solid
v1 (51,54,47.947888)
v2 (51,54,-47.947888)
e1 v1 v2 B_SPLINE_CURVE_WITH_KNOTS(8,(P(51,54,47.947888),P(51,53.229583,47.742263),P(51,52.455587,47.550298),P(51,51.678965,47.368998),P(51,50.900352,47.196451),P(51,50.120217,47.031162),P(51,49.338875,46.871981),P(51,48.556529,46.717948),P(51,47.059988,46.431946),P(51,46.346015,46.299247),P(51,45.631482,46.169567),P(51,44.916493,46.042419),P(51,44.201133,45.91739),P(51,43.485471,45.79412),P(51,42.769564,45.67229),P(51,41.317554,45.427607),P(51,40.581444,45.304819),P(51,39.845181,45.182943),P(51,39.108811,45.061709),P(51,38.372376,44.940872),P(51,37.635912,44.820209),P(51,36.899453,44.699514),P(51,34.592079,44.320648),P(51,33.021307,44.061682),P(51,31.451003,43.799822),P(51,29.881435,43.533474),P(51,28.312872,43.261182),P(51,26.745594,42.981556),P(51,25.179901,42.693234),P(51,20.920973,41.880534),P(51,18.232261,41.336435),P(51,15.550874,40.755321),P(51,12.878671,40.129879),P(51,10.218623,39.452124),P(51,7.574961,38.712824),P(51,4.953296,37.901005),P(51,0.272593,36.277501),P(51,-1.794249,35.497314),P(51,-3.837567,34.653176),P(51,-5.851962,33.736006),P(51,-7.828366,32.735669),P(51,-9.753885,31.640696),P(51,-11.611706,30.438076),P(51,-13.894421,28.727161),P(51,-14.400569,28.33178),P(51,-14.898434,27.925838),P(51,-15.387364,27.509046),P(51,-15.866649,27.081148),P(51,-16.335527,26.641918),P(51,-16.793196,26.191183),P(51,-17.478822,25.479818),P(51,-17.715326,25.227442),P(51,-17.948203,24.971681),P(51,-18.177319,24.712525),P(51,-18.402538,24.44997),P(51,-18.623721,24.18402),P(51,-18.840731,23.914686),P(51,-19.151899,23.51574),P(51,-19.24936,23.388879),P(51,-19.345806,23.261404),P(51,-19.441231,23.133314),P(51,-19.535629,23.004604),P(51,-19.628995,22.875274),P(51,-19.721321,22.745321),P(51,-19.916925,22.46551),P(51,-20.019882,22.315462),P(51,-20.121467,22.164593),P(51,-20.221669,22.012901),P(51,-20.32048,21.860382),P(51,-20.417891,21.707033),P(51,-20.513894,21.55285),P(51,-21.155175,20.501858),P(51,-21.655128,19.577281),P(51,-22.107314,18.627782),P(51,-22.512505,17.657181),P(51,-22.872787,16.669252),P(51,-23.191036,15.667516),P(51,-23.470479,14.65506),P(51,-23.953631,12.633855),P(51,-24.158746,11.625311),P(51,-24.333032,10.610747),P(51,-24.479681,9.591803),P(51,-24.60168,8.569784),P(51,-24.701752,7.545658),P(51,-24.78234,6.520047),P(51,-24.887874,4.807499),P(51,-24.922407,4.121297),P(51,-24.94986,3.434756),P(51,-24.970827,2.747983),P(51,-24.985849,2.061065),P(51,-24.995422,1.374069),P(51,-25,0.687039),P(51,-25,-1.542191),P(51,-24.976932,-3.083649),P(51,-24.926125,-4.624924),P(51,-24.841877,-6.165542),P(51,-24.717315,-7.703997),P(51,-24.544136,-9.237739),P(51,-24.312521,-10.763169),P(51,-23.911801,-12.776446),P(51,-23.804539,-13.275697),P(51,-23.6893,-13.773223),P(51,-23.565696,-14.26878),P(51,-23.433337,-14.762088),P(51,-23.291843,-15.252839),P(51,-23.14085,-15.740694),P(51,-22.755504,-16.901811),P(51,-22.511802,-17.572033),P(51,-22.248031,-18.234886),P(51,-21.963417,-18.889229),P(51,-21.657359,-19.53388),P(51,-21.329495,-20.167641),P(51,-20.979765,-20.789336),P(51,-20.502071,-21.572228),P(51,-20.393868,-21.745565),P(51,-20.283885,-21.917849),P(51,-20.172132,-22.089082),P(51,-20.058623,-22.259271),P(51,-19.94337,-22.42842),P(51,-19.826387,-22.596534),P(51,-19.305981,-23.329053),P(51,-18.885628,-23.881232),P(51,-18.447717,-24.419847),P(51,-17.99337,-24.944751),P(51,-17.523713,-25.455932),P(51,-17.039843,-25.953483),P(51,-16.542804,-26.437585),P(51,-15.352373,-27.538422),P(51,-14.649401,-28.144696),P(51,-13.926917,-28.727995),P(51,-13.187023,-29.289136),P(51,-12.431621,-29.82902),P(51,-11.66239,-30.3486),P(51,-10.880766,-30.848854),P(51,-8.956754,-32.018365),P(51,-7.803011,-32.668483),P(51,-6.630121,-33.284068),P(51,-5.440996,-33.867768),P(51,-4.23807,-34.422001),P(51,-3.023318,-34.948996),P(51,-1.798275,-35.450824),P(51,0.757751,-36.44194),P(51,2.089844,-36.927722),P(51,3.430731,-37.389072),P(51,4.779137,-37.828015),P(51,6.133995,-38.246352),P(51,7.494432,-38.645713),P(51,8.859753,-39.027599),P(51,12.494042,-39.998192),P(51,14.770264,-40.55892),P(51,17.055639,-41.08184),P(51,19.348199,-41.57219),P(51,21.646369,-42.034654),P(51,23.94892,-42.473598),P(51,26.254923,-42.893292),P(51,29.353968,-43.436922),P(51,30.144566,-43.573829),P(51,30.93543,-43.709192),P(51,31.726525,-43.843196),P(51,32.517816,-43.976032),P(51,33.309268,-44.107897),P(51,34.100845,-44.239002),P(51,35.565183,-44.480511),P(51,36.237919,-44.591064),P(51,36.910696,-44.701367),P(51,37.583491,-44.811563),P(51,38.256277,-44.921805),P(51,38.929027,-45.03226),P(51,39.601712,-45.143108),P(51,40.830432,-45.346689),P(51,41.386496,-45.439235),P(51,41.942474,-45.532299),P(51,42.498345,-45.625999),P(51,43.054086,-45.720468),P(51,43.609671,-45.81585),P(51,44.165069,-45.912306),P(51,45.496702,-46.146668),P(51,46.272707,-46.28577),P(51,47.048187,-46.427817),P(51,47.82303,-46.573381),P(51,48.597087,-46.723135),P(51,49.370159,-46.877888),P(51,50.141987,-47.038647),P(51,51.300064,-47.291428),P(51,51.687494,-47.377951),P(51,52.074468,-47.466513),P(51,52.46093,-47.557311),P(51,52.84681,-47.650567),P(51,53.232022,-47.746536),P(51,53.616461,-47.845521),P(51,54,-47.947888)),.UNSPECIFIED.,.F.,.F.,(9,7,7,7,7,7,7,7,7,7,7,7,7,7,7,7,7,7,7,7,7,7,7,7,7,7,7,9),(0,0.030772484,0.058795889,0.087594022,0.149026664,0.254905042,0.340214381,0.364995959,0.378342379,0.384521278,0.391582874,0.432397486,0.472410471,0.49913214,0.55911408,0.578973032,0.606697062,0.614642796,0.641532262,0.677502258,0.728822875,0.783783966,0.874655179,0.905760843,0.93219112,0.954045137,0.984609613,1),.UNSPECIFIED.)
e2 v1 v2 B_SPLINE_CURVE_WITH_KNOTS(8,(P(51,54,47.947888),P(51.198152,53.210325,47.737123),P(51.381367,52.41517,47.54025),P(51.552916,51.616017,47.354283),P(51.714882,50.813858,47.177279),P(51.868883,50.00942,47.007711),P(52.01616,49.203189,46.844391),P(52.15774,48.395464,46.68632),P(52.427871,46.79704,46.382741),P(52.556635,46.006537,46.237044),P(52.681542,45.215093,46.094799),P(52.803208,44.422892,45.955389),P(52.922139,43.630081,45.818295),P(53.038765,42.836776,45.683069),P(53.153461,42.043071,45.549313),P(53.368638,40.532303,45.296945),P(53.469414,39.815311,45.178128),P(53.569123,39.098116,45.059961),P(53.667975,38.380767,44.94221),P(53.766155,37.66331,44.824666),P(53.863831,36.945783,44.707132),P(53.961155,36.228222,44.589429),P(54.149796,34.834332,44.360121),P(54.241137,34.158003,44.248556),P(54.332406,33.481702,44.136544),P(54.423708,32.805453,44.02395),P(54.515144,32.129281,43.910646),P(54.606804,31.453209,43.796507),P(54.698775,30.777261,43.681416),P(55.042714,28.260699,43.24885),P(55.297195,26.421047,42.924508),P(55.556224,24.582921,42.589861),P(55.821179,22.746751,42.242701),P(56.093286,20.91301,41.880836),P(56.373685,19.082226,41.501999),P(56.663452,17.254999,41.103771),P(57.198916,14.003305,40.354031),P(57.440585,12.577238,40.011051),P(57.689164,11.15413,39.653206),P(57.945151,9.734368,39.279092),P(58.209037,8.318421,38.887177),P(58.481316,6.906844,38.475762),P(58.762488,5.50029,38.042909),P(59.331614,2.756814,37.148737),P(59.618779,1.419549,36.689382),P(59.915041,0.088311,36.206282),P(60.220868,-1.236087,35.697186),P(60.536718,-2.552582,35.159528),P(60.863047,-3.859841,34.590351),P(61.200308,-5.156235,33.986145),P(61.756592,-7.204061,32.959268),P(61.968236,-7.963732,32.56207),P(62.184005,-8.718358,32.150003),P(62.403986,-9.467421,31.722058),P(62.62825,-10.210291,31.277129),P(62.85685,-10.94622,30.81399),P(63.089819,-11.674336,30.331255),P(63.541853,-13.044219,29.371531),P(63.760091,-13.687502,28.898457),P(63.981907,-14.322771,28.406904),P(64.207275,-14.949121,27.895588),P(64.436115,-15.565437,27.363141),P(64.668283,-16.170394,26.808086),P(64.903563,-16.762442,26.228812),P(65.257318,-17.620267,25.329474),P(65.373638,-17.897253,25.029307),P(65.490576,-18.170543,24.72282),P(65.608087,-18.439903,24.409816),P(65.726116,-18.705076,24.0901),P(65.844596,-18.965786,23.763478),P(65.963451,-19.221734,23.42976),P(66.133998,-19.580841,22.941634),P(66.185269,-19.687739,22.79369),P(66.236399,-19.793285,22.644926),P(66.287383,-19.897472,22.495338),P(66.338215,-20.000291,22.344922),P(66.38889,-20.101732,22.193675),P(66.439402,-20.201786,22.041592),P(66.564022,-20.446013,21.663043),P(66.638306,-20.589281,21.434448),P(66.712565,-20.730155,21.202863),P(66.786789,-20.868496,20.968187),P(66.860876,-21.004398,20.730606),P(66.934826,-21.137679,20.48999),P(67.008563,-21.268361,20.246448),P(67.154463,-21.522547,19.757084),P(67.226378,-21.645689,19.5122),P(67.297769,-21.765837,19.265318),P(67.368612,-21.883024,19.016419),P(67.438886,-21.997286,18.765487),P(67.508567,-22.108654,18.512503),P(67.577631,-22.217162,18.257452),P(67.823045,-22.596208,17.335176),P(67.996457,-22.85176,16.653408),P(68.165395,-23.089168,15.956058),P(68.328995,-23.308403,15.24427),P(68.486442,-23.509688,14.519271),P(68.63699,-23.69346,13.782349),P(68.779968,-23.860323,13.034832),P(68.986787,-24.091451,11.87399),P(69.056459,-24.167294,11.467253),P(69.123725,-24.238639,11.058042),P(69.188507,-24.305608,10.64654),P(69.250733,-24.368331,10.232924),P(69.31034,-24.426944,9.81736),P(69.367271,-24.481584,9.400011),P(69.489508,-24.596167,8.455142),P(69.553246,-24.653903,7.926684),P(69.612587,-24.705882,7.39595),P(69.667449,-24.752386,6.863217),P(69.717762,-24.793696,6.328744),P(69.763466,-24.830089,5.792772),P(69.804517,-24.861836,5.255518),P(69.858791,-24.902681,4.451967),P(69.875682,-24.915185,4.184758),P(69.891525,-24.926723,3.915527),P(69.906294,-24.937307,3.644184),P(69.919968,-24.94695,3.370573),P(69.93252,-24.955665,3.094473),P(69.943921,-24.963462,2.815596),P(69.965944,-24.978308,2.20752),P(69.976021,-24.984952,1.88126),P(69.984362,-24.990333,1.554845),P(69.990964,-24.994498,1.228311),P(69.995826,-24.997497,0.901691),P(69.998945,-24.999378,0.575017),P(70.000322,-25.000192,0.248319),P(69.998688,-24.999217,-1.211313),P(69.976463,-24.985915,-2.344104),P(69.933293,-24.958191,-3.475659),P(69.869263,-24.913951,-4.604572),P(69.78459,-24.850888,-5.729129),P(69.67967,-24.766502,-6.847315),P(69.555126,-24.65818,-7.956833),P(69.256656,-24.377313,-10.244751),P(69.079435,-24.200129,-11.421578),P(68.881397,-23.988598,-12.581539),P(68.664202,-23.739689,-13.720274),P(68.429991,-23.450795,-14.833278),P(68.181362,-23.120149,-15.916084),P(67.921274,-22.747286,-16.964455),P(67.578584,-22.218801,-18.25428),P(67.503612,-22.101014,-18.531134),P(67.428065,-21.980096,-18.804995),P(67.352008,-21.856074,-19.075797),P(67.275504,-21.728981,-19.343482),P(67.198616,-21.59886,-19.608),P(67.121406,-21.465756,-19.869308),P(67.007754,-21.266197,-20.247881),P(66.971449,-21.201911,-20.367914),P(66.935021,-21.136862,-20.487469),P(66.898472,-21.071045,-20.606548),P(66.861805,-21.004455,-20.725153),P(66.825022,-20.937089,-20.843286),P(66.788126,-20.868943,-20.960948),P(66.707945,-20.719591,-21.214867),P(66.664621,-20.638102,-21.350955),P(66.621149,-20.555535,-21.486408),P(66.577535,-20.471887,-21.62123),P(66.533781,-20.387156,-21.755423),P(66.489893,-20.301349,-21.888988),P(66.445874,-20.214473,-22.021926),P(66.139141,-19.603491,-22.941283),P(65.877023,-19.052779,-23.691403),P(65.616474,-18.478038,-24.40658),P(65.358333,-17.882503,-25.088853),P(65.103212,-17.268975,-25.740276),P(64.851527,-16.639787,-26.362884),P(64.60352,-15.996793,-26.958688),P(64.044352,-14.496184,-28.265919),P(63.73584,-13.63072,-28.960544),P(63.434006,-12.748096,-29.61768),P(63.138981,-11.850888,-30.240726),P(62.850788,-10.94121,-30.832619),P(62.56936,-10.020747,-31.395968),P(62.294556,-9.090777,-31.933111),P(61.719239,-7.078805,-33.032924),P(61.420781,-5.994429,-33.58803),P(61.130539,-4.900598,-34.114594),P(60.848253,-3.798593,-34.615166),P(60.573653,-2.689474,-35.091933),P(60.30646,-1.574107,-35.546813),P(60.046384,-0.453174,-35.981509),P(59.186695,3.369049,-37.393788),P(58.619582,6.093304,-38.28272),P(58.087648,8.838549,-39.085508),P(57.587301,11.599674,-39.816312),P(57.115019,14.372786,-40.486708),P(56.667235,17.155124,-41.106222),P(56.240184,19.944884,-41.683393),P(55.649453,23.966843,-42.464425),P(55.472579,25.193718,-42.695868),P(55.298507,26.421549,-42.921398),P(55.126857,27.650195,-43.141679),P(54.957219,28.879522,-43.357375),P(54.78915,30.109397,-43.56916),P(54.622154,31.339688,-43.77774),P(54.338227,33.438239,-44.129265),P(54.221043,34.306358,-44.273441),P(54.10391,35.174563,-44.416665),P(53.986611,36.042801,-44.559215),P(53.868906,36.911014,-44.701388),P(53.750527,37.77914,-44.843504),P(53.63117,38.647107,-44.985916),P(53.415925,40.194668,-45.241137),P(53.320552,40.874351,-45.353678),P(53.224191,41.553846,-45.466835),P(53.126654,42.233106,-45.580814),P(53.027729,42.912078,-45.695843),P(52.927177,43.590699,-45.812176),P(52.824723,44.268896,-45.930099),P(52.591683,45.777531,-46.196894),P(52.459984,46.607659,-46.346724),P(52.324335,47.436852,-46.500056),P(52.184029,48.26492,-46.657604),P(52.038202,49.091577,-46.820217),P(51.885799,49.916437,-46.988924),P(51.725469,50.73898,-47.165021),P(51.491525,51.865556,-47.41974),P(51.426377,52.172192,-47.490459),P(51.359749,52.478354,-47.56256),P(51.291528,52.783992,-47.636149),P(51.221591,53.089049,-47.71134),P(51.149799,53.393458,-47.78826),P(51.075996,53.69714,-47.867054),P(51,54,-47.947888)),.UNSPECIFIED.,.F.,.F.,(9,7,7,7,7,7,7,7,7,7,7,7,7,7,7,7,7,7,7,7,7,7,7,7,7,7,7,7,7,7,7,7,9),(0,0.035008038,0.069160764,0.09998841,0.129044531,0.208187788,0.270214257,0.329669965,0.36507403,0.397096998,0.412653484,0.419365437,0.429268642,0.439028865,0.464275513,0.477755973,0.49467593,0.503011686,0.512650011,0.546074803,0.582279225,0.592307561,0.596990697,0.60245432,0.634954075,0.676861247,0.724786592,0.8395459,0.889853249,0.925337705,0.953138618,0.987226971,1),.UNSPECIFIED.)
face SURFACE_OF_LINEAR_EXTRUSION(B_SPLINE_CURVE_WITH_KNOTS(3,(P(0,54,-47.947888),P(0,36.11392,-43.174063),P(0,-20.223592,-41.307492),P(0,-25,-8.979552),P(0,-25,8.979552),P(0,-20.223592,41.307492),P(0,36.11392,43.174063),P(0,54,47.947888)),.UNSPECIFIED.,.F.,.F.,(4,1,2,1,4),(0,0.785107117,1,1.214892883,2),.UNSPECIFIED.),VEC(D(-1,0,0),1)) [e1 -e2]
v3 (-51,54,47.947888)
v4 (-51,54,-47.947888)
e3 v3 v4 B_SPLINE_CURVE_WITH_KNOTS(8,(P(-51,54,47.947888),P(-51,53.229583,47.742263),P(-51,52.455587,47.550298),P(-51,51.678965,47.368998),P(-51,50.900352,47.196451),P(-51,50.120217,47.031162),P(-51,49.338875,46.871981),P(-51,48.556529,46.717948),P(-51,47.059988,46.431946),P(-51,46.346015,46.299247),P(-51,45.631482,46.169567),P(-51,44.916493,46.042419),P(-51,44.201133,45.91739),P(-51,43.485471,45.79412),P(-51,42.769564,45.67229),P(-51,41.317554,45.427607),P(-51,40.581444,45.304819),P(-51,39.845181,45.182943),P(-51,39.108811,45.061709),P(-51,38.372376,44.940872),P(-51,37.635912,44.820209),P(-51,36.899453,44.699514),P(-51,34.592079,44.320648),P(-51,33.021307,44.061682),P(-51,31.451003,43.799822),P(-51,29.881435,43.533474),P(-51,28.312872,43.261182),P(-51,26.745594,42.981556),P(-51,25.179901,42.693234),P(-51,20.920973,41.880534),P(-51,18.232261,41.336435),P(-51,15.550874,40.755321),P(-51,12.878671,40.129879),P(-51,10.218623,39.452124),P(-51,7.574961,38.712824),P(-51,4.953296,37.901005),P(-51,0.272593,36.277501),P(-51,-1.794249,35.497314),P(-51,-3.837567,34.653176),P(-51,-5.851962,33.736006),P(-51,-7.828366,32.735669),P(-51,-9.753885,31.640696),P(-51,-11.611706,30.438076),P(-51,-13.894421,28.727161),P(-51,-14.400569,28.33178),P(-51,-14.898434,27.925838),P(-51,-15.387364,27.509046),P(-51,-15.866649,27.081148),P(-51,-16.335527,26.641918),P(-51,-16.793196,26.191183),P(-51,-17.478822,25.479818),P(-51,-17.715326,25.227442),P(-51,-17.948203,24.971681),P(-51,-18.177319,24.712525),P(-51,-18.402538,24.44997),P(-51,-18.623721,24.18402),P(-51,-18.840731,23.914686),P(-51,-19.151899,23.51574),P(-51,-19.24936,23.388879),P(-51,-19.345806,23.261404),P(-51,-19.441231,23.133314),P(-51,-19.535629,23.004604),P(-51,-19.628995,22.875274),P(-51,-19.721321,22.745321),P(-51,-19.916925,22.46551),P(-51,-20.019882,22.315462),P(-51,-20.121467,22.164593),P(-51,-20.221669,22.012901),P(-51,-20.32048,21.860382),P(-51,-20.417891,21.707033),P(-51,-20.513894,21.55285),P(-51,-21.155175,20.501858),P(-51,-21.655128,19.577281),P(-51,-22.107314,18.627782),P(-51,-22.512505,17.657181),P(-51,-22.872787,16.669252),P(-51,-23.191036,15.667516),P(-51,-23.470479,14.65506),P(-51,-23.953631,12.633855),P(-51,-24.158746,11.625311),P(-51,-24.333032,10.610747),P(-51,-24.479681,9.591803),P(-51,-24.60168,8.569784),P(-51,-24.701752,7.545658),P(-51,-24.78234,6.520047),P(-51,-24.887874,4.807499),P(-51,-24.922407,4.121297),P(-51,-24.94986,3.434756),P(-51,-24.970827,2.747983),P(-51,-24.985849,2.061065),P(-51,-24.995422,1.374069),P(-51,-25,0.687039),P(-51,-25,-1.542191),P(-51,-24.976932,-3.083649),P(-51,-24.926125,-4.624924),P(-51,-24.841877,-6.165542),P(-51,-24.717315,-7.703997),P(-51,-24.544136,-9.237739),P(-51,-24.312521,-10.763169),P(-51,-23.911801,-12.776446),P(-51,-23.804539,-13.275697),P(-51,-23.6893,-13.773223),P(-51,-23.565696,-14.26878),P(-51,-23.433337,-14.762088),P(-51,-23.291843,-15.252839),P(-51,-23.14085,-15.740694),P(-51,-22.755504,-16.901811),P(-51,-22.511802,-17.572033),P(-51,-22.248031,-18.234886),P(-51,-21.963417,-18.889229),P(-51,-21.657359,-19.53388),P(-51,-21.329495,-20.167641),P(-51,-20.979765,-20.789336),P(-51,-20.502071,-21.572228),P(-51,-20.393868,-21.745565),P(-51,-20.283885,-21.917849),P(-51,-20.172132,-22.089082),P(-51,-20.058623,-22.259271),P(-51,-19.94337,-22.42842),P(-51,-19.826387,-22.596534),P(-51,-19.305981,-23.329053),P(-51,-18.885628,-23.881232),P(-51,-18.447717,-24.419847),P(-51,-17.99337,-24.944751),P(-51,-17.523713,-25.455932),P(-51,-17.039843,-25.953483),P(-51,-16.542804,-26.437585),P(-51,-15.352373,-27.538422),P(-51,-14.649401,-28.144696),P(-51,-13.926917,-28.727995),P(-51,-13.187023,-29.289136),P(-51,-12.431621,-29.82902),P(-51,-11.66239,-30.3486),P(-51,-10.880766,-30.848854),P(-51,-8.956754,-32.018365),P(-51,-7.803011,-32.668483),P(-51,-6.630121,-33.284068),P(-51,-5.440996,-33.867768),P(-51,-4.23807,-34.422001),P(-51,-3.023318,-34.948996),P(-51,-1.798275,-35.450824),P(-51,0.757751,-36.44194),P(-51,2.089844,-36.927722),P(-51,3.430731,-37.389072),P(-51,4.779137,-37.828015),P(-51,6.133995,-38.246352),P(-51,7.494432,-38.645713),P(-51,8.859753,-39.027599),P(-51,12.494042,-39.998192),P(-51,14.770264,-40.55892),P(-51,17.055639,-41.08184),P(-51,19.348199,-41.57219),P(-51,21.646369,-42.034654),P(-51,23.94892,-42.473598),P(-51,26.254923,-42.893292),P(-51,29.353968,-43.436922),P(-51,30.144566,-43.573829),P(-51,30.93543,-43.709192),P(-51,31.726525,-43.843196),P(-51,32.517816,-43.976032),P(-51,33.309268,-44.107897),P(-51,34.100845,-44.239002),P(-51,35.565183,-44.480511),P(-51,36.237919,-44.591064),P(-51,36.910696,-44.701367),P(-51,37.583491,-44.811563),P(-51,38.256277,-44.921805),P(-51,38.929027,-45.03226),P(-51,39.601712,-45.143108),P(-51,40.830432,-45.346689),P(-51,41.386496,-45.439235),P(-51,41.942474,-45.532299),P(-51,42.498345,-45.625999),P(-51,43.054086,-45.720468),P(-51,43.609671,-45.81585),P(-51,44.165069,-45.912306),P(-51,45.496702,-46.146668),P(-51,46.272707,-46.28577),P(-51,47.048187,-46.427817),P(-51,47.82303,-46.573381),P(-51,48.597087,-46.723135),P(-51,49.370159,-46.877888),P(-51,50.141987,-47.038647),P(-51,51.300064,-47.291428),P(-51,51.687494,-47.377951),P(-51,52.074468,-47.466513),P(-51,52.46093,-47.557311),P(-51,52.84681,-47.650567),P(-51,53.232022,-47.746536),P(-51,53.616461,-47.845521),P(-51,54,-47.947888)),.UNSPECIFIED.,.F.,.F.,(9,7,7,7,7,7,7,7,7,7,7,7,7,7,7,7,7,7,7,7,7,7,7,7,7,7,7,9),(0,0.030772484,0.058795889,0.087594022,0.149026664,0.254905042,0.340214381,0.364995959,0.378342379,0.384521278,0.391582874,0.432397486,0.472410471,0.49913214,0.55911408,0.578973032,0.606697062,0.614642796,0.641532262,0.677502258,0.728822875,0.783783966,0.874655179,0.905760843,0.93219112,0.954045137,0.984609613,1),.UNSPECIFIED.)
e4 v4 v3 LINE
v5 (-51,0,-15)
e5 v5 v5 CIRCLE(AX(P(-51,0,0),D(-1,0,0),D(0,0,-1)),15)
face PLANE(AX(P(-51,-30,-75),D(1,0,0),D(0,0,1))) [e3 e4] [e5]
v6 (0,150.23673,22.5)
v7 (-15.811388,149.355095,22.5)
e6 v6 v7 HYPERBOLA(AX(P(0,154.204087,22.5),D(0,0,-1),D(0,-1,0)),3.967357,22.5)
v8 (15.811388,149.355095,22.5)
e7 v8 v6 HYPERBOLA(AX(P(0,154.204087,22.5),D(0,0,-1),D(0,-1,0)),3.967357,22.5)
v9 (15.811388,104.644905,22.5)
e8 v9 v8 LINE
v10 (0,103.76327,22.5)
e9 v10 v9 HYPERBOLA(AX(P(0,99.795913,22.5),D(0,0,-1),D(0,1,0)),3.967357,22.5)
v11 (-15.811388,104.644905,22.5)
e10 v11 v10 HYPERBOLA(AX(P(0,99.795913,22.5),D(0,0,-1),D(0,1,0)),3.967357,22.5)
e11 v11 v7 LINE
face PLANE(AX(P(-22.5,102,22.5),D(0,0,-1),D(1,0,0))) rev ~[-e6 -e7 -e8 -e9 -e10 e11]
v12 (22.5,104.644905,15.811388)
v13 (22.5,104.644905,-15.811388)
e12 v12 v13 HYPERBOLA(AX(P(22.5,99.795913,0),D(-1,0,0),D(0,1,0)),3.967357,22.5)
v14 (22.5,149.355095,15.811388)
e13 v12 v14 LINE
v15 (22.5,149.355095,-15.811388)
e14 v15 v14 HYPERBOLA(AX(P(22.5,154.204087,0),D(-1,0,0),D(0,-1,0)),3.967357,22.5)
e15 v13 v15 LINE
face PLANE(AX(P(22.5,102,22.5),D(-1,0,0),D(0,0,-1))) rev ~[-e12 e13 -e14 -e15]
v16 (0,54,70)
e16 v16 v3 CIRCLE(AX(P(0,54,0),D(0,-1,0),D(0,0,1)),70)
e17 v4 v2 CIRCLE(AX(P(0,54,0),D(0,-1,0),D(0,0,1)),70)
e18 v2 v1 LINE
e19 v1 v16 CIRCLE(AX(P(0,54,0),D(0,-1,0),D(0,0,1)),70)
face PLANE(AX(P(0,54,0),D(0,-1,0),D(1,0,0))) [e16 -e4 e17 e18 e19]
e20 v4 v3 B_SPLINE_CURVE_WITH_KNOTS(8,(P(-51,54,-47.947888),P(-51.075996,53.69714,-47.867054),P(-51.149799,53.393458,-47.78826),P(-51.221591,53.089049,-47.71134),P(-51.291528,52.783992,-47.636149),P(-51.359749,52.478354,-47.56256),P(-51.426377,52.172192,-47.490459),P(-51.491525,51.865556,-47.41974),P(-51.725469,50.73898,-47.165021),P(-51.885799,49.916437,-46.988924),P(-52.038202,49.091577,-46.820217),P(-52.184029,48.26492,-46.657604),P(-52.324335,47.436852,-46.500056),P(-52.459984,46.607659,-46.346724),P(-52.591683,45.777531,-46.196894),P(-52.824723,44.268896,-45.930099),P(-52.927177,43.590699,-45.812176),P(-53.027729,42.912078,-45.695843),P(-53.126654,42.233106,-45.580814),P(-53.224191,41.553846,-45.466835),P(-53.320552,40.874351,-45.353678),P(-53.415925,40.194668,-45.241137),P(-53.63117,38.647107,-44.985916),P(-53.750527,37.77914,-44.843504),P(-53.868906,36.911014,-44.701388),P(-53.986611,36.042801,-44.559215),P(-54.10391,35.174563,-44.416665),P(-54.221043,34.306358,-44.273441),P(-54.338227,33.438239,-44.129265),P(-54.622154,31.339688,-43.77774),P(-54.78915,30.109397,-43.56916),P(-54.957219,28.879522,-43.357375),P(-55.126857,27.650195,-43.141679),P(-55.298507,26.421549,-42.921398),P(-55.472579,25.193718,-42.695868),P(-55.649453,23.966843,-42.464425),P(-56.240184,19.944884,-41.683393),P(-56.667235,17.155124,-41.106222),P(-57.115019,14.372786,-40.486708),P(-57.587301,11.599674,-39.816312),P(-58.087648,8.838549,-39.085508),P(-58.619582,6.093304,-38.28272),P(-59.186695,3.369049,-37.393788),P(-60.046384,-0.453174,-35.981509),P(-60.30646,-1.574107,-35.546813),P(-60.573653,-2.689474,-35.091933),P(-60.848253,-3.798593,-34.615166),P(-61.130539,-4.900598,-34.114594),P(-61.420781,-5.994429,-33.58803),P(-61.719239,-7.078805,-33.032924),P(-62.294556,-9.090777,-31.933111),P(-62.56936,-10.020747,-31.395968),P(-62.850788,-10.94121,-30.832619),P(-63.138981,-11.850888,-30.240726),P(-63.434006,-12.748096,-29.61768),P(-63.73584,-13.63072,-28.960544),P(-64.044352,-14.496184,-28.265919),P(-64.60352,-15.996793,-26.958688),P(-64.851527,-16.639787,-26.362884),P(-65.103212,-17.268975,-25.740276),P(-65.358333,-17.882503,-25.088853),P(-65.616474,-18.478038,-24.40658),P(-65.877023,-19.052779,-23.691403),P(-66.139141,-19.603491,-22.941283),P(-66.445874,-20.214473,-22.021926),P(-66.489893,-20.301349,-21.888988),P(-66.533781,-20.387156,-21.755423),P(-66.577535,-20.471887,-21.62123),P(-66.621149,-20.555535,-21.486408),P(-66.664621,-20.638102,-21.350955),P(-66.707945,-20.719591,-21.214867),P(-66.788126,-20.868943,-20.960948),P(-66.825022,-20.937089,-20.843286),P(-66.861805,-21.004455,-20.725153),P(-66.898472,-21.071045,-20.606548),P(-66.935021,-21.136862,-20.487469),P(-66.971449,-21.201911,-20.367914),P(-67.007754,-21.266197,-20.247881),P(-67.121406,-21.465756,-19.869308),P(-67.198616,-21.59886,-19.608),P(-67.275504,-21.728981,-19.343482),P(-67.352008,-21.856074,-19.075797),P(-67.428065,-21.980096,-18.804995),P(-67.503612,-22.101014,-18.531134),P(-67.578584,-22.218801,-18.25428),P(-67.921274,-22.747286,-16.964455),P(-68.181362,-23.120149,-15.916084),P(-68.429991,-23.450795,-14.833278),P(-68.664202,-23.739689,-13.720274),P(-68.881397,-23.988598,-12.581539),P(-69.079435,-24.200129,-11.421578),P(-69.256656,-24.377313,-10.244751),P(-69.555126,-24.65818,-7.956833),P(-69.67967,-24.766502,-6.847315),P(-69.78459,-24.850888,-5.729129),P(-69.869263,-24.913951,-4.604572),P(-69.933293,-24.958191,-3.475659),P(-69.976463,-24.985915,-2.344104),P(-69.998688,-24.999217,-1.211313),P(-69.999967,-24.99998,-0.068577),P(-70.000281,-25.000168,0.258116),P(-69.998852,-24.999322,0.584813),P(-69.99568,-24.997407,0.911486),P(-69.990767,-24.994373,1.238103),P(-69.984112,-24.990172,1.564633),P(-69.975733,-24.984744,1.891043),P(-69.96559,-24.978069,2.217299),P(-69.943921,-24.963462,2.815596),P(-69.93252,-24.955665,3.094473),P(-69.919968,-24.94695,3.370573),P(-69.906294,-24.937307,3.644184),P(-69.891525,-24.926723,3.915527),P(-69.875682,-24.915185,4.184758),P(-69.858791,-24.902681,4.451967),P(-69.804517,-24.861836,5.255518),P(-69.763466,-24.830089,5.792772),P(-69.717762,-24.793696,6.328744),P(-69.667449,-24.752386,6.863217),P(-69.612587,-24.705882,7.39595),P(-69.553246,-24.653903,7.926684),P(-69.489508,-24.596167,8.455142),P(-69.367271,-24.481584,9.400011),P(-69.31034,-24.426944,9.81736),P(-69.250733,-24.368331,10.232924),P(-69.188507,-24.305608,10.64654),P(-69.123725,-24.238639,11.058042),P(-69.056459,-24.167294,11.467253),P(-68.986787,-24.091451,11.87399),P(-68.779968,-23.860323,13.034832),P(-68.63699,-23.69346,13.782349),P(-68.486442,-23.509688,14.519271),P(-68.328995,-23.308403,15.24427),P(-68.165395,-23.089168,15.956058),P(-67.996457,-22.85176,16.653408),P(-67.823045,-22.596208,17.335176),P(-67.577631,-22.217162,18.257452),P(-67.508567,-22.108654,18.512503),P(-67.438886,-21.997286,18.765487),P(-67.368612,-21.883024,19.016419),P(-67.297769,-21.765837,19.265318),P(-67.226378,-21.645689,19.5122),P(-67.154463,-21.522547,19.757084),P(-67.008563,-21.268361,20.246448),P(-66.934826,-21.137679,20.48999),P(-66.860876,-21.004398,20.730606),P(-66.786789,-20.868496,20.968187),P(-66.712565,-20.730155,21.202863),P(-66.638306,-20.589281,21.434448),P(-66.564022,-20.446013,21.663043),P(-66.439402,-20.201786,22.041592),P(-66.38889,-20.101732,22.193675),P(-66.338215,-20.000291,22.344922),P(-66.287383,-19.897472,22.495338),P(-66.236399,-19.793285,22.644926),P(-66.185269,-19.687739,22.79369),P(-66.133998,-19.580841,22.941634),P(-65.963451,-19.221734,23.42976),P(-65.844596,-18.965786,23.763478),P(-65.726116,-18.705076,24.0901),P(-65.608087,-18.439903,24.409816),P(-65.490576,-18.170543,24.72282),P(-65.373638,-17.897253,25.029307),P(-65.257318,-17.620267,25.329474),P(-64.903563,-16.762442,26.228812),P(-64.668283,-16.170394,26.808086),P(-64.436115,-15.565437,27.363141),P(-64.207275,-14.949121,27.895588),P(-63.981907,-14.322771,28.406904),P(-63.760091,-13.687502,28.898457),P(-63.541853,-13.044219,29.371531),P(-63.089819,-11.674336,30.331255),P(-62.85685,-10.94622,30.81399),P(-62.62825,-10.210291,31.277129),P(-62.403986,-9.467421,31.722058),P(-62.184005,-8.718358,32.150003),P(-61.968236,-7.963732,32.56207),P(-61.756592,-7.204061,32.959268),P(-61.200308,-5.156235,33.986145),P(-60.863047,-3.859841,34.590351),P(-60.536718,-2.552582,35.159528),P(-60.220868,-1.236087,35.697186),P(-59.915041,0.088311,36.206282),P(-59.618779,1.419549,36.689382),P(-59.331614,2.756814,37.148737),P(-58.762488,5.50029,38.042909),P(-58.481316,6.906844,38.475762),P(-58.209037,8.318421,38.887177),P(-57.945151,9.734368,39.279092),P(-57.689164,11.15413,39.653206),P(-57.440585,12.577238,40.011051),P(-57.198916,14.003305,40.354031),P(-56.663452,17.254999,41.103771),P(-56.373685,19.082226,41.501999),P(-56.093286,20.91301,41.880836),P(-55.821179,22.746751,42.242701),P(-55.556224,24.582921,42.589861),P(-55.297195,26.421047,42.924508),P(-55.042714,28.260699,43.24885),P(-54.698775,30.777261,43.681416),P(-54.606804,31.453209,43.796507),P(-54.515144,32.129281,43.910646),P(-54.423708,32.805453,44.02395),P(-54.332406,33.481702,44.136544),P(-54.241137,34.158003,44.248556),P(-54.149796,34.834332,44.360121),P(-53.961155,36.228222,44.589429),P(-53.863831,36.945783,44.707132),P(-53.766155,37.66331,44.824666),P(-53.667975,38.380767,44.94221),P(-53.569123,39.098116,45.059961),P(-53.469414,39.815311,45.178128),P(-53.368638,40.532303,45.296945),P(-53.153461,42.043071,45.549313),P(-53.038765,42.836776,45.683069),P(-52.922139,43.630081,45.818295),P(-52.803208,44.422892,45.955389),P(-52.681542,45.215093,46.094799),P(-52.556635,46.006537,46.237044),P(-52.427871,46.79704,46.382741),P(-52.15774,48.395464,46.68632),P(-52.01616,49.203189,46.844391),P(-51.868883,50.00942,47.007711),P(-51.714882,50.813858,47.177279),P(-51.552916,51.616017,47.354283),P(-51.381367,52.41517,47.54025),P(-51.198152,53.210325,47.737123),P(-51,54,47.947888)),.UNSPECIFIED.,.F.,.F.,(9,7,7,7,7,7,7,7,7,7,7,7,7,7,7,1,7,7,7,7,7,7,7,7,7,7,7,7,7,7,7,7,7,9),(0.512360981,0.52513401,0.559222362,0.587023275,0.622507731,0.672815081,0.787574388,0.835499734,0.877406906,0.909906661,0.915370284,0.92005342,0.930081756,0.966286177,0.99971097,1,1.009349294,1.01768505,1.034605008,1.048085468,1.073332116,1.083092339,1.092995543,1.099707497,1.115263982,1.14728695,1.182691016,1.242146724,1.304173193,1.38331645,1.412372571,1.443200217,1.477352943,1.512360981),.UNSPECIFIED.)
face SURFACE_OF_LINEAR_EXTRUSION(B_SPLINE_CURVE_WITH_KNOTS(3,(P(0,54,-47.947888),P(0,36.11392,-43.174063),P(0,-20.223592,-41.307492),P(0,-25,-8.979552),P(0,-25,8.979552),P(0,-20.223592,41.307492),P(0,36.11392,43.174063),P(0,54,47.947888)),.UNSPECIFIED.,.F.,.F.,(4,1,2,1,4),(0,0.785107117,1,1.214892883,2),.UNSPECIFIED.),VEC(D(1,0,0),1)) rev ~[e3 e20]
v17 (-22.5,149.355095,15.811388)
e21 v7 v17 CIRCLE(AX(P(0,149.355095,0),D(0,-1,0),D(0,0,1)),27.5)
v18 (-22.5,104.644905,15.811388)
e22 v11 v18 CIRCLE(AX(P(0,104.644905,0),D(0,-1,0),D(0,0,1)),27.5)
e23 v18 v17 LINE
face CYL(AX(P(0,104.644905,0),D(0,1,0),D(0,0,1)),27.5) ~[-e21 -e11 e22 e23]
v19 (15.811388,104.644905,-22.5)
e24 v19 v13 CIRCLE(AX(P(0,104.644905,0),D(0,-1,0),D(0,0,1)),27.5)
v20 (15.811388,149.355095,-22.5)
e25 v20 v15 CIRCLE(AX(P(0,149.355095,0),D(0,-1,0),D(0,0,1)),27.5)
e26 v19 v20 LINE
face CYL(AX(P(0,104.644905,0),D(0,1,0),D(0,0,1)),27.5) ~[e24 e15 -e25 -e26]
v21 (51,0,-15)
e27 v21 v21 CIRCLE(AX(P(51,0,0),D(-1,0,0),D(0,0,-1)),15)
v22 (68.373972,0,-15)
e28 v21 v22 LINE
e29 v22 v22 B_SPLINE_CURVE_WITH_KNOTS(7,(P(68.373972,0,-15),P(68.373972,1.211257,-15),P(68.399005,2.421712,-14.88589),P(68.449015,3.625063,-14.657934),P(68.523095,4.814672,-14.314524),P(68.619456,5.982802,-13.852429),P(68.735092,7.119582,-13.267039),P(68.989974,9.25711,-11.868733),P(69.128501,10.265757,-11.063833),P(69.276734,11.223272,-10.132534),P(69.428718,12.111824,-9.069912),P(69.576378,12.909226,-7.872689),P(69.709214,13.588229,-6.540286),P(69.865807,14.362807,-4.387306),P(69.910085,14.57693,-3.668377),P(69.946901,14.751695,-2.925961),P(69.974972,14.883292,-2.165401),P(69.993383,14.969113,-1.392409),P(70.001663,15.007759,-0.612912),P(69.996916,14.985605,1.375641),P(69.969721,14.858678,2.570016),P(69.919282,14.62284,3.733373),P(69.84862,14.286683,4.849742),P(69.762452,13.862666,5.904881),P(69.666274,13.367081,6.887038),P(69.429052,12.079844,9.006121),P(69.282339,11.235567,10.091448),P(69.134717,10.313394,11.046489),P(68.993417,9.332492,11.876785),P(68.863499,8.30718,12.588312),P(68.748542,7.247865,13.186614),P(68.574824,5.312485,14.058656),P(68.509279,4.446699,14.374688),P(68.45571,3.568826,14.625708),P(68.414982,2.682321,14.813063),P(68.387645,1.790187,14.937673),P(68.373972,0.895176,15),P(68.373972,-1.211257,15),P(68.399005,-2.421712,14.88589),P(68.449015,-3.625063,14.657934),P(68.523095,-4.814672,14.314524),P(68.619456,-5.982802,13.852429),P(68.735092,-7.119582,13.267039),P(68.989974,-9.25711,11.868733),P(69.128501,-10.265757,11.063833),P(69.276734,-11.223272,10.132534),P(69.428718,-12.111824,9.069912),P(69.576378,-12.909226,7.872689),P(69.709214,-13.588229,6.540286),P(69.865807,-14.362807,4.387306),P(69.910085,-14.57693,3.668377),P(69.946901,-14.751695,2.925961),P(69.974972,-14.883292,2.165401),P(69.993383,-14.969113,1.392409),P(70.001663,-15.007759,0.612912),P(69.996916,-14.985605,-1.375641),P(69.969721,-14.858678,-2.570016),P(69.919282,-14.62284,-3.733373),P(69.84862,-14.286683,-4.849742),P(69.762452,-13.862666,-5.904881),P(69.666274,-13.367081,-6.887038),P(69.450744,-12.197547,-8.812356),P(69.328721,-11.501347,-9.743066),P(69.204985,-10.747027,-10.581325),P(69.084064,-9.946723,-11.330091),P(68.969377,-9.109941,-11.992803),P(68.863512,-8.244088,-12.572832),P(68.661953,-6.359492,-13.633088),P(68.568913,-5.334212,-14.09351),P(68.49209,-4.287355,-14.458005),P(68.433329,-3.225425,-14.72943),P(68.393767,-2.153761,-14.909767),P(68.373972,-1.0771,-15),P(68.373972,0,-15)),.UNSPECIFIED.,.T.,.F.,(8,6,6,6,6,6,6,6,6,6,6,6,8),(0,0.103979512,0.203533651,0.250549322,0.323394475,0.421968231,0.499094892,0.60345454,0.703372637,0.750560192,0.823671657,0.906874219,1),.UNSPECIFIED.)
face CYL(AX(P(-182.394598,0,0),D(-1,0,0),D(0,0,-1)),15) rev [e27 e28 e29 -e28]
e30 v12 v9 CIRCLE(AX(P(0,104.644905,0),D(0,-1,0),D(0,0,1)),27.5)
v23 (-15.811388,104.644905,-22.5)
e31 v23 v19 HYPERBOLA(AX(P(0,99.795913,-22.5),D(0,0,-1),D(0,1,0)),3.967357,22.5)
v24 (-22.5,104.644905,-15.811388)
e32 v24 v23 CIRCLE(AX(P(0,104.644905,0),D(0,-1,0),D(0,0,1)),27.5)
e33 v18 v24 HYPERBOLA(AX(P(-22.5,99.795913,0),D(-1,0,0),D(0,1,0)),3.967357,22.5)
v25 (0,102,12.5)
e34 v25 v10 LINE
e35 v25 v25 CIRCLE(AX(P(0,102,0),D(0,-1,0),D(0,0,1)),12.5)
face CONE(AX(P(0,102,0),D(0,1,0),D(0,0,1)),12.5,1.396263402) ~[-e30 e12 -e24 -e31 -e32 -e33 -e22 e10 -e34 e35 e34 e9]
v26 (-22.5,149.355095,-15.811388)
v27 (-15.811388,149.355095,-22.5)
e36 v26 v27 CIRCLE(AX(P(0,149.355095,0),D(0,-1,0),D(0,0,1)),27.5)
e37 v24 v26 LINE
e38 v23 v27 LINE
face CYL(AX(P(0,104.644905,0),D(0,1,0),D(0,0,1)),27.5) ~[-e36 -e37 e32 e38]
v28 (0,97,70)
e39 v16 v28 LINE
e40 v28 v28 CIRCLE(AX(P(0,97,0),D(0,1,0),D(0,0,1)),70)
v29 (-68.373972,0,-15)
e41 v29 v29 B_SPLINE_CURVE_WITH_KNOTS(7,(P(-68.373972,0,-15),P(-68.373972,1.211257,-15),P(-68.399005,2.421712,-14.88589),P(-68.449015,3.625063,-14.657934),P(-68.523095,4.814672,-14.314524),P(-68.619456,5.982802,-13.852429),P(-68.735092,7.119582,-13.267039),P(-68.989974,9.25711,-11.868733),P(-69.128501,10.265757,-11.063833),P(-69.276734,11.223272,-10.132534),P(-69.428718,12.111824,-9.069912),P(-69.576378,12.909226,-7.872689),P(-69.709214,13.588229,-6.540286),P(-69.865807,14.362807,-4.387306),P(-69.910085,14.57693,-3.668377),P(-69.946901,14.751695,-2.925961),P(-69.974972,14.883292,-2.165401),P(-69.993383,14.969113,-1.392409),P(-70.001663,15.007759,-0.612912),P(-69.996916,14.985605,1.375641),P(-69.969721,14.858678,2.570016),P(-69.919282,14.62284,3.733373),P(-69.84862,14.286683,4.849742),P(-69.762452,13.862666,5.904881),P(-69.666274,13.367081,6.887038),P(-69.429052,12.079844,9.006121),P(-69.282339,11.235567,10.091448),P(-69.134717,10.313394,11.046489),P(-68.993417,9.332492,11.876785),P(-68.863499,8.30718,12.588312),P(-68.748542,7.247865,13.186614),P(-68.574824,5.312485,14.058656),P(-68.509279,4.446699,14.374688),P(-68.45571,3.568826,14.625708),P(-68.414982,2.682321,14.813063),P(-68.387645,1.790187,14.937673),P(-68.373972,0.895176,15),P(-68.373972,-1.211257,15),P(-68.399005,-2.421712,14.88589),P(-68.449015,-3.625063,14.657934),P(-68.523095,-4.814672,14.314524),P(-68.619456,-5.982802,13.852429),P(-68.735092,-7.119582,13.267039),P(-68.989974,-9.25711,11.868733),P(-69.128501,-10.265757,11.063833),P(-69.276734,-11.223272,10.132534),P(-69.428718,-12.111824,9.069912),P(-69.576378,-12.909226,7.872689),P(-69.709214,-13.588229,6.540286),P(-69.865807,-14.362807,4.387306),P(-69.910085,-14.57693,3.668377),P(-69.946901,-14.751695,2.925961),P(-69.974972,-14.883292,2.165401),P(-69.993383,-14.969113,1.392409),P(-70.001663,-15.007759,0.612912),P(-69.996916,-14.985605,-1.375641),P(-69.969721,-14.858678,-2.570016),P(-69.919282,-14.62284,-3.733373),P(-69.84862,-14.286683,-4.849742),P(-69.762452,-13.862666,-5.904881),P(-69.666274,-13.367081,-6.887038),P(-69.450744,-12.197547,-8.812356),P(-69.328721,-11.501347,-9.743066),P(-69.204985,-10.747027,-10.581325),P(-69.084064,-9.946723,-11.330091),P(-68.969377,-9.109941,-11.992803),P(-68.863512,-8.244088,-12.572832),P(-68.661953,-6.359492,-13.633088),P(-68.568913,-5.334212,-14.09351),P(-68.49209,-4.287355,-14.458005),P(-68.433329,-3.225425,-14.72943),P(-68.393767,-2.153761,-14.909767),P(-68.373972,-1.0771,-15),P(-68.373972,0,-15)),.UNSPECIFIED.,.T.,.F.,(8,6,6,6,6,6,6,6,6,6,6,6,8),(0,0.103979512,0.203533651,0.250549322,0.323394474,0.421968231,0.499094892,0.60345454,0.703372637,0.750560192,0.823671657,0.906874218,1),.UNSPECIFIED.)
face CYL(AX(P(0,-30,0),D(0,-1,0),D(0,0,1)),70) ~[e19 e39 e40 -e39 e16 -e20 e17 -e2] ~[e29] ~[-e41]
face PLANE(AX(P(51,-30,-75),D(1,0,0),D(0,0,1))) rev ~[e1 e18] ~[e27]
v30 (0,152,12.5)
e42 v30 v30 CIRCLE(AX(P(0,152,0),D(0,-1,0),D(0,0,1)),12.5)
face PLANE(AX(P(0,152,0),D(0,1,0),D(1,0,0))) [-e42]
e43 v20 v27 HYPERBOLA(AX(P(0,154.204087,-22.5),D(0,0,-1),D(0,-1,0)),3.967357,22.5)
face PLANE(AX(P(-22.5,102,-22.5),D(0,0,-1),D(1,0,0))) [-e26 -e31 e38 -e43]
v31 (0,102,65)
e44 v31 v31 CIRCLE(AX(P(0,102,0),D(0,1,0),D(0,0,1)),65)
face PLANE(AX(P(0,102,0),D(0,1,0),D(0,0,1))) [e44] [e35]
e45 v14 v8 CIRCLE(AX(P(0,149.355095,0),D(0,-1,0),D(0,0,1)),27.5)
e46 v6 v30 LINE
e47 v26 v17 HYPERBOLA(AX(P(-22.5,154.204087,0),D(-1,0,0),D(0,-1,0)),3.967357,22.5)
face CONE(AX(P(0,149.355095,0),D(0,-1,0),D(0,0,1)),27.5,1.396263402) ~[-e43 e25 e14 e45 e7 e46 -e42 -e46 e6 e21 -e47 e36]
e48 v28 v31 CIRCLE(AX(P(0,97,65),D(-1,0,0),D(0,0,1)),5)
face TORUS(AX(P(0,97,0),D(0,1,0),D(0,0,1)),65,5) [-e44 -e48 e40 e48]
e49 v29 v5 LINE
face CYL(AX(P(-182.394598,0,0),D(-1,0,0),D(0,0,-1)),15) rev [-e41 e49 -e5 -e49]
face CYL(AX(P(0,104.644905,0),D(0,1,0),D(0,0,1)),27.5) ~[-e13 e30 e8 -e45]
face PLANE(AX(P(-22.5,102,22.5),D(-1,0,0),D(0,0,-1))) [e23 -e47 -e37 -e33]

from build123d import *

# Parameters (mm, degrees)
BOSS_EXTRUDE1_DEPTH      = 102
BOSS_EXTRUDE1_DEPTH_BACK = 30
SKETCH1_R                = 70
SKETCH2_W                = 45
SKETCH2_H                = 45
BOSS_EXTRUDE2_DEPTH      = 50
FILLET1_R                = 5
FILLET2_R                = 5
SKETCH4_W                = 102
SKETCH4_H                = 150
CUT_EXTRUDE1_DEPTH       = 84
CUT_EXTRUDE3_DEPTH       = 72
CUT_EXTRUDE4_DEPTH       = 182.394597571
CUT_EXTRUDE4_DEPTH_BACK  = 182.394597571
SKETCH6_R                = 15


with BuildPart() as part:
    # Sketch1 → Boss-Extrude1 (new, two sides: drawn at the far end of the back side and taken through both)
    with BuildSketch(Plane(origin=(0, 0, 0), x_dir=(1, 0, 0), z_dir=(0, 1, 0)).offset(-BOSS_EXTRUDE1_DEPTH_BACK)):
        with Locations(Location((0, 0, 0), (0, 0, 270))):
            Circle(SKETCH1_R)
    extrude(amount=BOSS_EXTRUDE1_DEPTH + BOSS_EXTRUDE1_DEPTH_BACK)

    # Sketch2 → Boss-Extrude2 (add)
    with BuildSketch(Plane(origin=(0, 102, 0), x_dir=(1, 0, 0), z_dir=(0, 1, 0))):
        Rectangle(SKETCH2_W, SKETCH2_H)
    extrude(amount=BOSS_EXTRUDE2_DEPTH)

    # Fillet1
    fillet1_edges = [part.edges().sort_by_distance(p)[0] for p in [
        (0, 102, -70),
    ]]
    fillet(fillet1_edges, radius=FILLET1_R)

    # Fillet2
    fillet2_edges = [part.edges().sort_by_distance(p)[0] for p in [
        (0, -30, -70),
    ]]
    fillet(fillet2_edges, radius=FILLET2_R)

    # Sketch3 → Cut-Revolve2 (revolve, cut)
    with BuildSketch(Plane.XY, mode=Mode.PRIVATE) as cut_revolve2_sk:
        Polygon((-12.5, 152), (-47.512769581, 152), (-47.512769581, 102), (-12.5, 102), (-27.5, 104.644904711), (-27.5, 149.355095289), align=None)
    revolve(cut_revolve2_sk.sketch.rotate(Axis((0, 160.85, 0), (0, -1, 0)), 270), axis=Axis((0, 160.85, 0), (0, -1, 0)), mode=Mode.SUBTRACT)

    # Sketch4 → Cut-Extrude1 (cut)
    with BuildSketch(Plane.XZ.offset(30)):
        Rectangle(SKETCH4_W, SKETCH4_H)
    extrude(amount=-CUT_EXTRUDE1_DEPTH, mode=Mode.SUBTRACT)

    # Sketch5 → Cut-Extrude3 (cut, symmetric)
    with BuildSketch(Plane(origin=(0, 0, 0), x_dir=(0, 0, -1), z_dir=(1, 0, 0))):
        with BuildLine():
            Line((-47.947888379, 54), (-70, 54))
            Line((-70, 54), (-70, -34.210439424))
            Line((-70, -34.210439424), (78.024892387, -34.210439424))
            Line((78.024892387, -34.210439424), (78.024892387, 54))
            Line((78.024892387, 54), (47.947888379, 54))
            add(Edge.make_bspline(
                [(47.947888379, 54), (43.174062714, 36.113920215), (41.307491939, -20.223592095), (8.979551546, -25), (0, -25)],
                knots=[0, 0, 0, 0, 0.785107117, 1, 1, 1, 1], degree=3))
            add(Edge.make_bspline(
                [(-47.947888379, 54), (-43.174062714, 36.113920215), (-41.307491939, -20.223592095), (-8.979551546, -25), (0, -25)],
                knots=[0, 0, 0, 0, 0.785107117, 1, 1, 1, 1], degree=3))
        make_face()
    extrude(amount=CUT_EXTRUDE3_DEPTH, both=True, mode=Mode.SUBTRACT)

    # Sketch6 → Cut-Extrude4 (cut, two sides: drawn at the far end of the back side and taken through both)
    with BuildSketch(Plane(origin=(0, 0, 0), x_dir=(0, 0, -1), z_dir=(1, 0, 0)).offset(-CUT_EXTRUDE4_DEPTH_BACK)):
        Circle(SKETCH6_R)
    extrude(amount=CUT_EXTRUDE4_DEPTH + CUT_EXTRUDE4_DEPTH_BACK, mode=Mode.SUBTRACT)


solid = part.part
